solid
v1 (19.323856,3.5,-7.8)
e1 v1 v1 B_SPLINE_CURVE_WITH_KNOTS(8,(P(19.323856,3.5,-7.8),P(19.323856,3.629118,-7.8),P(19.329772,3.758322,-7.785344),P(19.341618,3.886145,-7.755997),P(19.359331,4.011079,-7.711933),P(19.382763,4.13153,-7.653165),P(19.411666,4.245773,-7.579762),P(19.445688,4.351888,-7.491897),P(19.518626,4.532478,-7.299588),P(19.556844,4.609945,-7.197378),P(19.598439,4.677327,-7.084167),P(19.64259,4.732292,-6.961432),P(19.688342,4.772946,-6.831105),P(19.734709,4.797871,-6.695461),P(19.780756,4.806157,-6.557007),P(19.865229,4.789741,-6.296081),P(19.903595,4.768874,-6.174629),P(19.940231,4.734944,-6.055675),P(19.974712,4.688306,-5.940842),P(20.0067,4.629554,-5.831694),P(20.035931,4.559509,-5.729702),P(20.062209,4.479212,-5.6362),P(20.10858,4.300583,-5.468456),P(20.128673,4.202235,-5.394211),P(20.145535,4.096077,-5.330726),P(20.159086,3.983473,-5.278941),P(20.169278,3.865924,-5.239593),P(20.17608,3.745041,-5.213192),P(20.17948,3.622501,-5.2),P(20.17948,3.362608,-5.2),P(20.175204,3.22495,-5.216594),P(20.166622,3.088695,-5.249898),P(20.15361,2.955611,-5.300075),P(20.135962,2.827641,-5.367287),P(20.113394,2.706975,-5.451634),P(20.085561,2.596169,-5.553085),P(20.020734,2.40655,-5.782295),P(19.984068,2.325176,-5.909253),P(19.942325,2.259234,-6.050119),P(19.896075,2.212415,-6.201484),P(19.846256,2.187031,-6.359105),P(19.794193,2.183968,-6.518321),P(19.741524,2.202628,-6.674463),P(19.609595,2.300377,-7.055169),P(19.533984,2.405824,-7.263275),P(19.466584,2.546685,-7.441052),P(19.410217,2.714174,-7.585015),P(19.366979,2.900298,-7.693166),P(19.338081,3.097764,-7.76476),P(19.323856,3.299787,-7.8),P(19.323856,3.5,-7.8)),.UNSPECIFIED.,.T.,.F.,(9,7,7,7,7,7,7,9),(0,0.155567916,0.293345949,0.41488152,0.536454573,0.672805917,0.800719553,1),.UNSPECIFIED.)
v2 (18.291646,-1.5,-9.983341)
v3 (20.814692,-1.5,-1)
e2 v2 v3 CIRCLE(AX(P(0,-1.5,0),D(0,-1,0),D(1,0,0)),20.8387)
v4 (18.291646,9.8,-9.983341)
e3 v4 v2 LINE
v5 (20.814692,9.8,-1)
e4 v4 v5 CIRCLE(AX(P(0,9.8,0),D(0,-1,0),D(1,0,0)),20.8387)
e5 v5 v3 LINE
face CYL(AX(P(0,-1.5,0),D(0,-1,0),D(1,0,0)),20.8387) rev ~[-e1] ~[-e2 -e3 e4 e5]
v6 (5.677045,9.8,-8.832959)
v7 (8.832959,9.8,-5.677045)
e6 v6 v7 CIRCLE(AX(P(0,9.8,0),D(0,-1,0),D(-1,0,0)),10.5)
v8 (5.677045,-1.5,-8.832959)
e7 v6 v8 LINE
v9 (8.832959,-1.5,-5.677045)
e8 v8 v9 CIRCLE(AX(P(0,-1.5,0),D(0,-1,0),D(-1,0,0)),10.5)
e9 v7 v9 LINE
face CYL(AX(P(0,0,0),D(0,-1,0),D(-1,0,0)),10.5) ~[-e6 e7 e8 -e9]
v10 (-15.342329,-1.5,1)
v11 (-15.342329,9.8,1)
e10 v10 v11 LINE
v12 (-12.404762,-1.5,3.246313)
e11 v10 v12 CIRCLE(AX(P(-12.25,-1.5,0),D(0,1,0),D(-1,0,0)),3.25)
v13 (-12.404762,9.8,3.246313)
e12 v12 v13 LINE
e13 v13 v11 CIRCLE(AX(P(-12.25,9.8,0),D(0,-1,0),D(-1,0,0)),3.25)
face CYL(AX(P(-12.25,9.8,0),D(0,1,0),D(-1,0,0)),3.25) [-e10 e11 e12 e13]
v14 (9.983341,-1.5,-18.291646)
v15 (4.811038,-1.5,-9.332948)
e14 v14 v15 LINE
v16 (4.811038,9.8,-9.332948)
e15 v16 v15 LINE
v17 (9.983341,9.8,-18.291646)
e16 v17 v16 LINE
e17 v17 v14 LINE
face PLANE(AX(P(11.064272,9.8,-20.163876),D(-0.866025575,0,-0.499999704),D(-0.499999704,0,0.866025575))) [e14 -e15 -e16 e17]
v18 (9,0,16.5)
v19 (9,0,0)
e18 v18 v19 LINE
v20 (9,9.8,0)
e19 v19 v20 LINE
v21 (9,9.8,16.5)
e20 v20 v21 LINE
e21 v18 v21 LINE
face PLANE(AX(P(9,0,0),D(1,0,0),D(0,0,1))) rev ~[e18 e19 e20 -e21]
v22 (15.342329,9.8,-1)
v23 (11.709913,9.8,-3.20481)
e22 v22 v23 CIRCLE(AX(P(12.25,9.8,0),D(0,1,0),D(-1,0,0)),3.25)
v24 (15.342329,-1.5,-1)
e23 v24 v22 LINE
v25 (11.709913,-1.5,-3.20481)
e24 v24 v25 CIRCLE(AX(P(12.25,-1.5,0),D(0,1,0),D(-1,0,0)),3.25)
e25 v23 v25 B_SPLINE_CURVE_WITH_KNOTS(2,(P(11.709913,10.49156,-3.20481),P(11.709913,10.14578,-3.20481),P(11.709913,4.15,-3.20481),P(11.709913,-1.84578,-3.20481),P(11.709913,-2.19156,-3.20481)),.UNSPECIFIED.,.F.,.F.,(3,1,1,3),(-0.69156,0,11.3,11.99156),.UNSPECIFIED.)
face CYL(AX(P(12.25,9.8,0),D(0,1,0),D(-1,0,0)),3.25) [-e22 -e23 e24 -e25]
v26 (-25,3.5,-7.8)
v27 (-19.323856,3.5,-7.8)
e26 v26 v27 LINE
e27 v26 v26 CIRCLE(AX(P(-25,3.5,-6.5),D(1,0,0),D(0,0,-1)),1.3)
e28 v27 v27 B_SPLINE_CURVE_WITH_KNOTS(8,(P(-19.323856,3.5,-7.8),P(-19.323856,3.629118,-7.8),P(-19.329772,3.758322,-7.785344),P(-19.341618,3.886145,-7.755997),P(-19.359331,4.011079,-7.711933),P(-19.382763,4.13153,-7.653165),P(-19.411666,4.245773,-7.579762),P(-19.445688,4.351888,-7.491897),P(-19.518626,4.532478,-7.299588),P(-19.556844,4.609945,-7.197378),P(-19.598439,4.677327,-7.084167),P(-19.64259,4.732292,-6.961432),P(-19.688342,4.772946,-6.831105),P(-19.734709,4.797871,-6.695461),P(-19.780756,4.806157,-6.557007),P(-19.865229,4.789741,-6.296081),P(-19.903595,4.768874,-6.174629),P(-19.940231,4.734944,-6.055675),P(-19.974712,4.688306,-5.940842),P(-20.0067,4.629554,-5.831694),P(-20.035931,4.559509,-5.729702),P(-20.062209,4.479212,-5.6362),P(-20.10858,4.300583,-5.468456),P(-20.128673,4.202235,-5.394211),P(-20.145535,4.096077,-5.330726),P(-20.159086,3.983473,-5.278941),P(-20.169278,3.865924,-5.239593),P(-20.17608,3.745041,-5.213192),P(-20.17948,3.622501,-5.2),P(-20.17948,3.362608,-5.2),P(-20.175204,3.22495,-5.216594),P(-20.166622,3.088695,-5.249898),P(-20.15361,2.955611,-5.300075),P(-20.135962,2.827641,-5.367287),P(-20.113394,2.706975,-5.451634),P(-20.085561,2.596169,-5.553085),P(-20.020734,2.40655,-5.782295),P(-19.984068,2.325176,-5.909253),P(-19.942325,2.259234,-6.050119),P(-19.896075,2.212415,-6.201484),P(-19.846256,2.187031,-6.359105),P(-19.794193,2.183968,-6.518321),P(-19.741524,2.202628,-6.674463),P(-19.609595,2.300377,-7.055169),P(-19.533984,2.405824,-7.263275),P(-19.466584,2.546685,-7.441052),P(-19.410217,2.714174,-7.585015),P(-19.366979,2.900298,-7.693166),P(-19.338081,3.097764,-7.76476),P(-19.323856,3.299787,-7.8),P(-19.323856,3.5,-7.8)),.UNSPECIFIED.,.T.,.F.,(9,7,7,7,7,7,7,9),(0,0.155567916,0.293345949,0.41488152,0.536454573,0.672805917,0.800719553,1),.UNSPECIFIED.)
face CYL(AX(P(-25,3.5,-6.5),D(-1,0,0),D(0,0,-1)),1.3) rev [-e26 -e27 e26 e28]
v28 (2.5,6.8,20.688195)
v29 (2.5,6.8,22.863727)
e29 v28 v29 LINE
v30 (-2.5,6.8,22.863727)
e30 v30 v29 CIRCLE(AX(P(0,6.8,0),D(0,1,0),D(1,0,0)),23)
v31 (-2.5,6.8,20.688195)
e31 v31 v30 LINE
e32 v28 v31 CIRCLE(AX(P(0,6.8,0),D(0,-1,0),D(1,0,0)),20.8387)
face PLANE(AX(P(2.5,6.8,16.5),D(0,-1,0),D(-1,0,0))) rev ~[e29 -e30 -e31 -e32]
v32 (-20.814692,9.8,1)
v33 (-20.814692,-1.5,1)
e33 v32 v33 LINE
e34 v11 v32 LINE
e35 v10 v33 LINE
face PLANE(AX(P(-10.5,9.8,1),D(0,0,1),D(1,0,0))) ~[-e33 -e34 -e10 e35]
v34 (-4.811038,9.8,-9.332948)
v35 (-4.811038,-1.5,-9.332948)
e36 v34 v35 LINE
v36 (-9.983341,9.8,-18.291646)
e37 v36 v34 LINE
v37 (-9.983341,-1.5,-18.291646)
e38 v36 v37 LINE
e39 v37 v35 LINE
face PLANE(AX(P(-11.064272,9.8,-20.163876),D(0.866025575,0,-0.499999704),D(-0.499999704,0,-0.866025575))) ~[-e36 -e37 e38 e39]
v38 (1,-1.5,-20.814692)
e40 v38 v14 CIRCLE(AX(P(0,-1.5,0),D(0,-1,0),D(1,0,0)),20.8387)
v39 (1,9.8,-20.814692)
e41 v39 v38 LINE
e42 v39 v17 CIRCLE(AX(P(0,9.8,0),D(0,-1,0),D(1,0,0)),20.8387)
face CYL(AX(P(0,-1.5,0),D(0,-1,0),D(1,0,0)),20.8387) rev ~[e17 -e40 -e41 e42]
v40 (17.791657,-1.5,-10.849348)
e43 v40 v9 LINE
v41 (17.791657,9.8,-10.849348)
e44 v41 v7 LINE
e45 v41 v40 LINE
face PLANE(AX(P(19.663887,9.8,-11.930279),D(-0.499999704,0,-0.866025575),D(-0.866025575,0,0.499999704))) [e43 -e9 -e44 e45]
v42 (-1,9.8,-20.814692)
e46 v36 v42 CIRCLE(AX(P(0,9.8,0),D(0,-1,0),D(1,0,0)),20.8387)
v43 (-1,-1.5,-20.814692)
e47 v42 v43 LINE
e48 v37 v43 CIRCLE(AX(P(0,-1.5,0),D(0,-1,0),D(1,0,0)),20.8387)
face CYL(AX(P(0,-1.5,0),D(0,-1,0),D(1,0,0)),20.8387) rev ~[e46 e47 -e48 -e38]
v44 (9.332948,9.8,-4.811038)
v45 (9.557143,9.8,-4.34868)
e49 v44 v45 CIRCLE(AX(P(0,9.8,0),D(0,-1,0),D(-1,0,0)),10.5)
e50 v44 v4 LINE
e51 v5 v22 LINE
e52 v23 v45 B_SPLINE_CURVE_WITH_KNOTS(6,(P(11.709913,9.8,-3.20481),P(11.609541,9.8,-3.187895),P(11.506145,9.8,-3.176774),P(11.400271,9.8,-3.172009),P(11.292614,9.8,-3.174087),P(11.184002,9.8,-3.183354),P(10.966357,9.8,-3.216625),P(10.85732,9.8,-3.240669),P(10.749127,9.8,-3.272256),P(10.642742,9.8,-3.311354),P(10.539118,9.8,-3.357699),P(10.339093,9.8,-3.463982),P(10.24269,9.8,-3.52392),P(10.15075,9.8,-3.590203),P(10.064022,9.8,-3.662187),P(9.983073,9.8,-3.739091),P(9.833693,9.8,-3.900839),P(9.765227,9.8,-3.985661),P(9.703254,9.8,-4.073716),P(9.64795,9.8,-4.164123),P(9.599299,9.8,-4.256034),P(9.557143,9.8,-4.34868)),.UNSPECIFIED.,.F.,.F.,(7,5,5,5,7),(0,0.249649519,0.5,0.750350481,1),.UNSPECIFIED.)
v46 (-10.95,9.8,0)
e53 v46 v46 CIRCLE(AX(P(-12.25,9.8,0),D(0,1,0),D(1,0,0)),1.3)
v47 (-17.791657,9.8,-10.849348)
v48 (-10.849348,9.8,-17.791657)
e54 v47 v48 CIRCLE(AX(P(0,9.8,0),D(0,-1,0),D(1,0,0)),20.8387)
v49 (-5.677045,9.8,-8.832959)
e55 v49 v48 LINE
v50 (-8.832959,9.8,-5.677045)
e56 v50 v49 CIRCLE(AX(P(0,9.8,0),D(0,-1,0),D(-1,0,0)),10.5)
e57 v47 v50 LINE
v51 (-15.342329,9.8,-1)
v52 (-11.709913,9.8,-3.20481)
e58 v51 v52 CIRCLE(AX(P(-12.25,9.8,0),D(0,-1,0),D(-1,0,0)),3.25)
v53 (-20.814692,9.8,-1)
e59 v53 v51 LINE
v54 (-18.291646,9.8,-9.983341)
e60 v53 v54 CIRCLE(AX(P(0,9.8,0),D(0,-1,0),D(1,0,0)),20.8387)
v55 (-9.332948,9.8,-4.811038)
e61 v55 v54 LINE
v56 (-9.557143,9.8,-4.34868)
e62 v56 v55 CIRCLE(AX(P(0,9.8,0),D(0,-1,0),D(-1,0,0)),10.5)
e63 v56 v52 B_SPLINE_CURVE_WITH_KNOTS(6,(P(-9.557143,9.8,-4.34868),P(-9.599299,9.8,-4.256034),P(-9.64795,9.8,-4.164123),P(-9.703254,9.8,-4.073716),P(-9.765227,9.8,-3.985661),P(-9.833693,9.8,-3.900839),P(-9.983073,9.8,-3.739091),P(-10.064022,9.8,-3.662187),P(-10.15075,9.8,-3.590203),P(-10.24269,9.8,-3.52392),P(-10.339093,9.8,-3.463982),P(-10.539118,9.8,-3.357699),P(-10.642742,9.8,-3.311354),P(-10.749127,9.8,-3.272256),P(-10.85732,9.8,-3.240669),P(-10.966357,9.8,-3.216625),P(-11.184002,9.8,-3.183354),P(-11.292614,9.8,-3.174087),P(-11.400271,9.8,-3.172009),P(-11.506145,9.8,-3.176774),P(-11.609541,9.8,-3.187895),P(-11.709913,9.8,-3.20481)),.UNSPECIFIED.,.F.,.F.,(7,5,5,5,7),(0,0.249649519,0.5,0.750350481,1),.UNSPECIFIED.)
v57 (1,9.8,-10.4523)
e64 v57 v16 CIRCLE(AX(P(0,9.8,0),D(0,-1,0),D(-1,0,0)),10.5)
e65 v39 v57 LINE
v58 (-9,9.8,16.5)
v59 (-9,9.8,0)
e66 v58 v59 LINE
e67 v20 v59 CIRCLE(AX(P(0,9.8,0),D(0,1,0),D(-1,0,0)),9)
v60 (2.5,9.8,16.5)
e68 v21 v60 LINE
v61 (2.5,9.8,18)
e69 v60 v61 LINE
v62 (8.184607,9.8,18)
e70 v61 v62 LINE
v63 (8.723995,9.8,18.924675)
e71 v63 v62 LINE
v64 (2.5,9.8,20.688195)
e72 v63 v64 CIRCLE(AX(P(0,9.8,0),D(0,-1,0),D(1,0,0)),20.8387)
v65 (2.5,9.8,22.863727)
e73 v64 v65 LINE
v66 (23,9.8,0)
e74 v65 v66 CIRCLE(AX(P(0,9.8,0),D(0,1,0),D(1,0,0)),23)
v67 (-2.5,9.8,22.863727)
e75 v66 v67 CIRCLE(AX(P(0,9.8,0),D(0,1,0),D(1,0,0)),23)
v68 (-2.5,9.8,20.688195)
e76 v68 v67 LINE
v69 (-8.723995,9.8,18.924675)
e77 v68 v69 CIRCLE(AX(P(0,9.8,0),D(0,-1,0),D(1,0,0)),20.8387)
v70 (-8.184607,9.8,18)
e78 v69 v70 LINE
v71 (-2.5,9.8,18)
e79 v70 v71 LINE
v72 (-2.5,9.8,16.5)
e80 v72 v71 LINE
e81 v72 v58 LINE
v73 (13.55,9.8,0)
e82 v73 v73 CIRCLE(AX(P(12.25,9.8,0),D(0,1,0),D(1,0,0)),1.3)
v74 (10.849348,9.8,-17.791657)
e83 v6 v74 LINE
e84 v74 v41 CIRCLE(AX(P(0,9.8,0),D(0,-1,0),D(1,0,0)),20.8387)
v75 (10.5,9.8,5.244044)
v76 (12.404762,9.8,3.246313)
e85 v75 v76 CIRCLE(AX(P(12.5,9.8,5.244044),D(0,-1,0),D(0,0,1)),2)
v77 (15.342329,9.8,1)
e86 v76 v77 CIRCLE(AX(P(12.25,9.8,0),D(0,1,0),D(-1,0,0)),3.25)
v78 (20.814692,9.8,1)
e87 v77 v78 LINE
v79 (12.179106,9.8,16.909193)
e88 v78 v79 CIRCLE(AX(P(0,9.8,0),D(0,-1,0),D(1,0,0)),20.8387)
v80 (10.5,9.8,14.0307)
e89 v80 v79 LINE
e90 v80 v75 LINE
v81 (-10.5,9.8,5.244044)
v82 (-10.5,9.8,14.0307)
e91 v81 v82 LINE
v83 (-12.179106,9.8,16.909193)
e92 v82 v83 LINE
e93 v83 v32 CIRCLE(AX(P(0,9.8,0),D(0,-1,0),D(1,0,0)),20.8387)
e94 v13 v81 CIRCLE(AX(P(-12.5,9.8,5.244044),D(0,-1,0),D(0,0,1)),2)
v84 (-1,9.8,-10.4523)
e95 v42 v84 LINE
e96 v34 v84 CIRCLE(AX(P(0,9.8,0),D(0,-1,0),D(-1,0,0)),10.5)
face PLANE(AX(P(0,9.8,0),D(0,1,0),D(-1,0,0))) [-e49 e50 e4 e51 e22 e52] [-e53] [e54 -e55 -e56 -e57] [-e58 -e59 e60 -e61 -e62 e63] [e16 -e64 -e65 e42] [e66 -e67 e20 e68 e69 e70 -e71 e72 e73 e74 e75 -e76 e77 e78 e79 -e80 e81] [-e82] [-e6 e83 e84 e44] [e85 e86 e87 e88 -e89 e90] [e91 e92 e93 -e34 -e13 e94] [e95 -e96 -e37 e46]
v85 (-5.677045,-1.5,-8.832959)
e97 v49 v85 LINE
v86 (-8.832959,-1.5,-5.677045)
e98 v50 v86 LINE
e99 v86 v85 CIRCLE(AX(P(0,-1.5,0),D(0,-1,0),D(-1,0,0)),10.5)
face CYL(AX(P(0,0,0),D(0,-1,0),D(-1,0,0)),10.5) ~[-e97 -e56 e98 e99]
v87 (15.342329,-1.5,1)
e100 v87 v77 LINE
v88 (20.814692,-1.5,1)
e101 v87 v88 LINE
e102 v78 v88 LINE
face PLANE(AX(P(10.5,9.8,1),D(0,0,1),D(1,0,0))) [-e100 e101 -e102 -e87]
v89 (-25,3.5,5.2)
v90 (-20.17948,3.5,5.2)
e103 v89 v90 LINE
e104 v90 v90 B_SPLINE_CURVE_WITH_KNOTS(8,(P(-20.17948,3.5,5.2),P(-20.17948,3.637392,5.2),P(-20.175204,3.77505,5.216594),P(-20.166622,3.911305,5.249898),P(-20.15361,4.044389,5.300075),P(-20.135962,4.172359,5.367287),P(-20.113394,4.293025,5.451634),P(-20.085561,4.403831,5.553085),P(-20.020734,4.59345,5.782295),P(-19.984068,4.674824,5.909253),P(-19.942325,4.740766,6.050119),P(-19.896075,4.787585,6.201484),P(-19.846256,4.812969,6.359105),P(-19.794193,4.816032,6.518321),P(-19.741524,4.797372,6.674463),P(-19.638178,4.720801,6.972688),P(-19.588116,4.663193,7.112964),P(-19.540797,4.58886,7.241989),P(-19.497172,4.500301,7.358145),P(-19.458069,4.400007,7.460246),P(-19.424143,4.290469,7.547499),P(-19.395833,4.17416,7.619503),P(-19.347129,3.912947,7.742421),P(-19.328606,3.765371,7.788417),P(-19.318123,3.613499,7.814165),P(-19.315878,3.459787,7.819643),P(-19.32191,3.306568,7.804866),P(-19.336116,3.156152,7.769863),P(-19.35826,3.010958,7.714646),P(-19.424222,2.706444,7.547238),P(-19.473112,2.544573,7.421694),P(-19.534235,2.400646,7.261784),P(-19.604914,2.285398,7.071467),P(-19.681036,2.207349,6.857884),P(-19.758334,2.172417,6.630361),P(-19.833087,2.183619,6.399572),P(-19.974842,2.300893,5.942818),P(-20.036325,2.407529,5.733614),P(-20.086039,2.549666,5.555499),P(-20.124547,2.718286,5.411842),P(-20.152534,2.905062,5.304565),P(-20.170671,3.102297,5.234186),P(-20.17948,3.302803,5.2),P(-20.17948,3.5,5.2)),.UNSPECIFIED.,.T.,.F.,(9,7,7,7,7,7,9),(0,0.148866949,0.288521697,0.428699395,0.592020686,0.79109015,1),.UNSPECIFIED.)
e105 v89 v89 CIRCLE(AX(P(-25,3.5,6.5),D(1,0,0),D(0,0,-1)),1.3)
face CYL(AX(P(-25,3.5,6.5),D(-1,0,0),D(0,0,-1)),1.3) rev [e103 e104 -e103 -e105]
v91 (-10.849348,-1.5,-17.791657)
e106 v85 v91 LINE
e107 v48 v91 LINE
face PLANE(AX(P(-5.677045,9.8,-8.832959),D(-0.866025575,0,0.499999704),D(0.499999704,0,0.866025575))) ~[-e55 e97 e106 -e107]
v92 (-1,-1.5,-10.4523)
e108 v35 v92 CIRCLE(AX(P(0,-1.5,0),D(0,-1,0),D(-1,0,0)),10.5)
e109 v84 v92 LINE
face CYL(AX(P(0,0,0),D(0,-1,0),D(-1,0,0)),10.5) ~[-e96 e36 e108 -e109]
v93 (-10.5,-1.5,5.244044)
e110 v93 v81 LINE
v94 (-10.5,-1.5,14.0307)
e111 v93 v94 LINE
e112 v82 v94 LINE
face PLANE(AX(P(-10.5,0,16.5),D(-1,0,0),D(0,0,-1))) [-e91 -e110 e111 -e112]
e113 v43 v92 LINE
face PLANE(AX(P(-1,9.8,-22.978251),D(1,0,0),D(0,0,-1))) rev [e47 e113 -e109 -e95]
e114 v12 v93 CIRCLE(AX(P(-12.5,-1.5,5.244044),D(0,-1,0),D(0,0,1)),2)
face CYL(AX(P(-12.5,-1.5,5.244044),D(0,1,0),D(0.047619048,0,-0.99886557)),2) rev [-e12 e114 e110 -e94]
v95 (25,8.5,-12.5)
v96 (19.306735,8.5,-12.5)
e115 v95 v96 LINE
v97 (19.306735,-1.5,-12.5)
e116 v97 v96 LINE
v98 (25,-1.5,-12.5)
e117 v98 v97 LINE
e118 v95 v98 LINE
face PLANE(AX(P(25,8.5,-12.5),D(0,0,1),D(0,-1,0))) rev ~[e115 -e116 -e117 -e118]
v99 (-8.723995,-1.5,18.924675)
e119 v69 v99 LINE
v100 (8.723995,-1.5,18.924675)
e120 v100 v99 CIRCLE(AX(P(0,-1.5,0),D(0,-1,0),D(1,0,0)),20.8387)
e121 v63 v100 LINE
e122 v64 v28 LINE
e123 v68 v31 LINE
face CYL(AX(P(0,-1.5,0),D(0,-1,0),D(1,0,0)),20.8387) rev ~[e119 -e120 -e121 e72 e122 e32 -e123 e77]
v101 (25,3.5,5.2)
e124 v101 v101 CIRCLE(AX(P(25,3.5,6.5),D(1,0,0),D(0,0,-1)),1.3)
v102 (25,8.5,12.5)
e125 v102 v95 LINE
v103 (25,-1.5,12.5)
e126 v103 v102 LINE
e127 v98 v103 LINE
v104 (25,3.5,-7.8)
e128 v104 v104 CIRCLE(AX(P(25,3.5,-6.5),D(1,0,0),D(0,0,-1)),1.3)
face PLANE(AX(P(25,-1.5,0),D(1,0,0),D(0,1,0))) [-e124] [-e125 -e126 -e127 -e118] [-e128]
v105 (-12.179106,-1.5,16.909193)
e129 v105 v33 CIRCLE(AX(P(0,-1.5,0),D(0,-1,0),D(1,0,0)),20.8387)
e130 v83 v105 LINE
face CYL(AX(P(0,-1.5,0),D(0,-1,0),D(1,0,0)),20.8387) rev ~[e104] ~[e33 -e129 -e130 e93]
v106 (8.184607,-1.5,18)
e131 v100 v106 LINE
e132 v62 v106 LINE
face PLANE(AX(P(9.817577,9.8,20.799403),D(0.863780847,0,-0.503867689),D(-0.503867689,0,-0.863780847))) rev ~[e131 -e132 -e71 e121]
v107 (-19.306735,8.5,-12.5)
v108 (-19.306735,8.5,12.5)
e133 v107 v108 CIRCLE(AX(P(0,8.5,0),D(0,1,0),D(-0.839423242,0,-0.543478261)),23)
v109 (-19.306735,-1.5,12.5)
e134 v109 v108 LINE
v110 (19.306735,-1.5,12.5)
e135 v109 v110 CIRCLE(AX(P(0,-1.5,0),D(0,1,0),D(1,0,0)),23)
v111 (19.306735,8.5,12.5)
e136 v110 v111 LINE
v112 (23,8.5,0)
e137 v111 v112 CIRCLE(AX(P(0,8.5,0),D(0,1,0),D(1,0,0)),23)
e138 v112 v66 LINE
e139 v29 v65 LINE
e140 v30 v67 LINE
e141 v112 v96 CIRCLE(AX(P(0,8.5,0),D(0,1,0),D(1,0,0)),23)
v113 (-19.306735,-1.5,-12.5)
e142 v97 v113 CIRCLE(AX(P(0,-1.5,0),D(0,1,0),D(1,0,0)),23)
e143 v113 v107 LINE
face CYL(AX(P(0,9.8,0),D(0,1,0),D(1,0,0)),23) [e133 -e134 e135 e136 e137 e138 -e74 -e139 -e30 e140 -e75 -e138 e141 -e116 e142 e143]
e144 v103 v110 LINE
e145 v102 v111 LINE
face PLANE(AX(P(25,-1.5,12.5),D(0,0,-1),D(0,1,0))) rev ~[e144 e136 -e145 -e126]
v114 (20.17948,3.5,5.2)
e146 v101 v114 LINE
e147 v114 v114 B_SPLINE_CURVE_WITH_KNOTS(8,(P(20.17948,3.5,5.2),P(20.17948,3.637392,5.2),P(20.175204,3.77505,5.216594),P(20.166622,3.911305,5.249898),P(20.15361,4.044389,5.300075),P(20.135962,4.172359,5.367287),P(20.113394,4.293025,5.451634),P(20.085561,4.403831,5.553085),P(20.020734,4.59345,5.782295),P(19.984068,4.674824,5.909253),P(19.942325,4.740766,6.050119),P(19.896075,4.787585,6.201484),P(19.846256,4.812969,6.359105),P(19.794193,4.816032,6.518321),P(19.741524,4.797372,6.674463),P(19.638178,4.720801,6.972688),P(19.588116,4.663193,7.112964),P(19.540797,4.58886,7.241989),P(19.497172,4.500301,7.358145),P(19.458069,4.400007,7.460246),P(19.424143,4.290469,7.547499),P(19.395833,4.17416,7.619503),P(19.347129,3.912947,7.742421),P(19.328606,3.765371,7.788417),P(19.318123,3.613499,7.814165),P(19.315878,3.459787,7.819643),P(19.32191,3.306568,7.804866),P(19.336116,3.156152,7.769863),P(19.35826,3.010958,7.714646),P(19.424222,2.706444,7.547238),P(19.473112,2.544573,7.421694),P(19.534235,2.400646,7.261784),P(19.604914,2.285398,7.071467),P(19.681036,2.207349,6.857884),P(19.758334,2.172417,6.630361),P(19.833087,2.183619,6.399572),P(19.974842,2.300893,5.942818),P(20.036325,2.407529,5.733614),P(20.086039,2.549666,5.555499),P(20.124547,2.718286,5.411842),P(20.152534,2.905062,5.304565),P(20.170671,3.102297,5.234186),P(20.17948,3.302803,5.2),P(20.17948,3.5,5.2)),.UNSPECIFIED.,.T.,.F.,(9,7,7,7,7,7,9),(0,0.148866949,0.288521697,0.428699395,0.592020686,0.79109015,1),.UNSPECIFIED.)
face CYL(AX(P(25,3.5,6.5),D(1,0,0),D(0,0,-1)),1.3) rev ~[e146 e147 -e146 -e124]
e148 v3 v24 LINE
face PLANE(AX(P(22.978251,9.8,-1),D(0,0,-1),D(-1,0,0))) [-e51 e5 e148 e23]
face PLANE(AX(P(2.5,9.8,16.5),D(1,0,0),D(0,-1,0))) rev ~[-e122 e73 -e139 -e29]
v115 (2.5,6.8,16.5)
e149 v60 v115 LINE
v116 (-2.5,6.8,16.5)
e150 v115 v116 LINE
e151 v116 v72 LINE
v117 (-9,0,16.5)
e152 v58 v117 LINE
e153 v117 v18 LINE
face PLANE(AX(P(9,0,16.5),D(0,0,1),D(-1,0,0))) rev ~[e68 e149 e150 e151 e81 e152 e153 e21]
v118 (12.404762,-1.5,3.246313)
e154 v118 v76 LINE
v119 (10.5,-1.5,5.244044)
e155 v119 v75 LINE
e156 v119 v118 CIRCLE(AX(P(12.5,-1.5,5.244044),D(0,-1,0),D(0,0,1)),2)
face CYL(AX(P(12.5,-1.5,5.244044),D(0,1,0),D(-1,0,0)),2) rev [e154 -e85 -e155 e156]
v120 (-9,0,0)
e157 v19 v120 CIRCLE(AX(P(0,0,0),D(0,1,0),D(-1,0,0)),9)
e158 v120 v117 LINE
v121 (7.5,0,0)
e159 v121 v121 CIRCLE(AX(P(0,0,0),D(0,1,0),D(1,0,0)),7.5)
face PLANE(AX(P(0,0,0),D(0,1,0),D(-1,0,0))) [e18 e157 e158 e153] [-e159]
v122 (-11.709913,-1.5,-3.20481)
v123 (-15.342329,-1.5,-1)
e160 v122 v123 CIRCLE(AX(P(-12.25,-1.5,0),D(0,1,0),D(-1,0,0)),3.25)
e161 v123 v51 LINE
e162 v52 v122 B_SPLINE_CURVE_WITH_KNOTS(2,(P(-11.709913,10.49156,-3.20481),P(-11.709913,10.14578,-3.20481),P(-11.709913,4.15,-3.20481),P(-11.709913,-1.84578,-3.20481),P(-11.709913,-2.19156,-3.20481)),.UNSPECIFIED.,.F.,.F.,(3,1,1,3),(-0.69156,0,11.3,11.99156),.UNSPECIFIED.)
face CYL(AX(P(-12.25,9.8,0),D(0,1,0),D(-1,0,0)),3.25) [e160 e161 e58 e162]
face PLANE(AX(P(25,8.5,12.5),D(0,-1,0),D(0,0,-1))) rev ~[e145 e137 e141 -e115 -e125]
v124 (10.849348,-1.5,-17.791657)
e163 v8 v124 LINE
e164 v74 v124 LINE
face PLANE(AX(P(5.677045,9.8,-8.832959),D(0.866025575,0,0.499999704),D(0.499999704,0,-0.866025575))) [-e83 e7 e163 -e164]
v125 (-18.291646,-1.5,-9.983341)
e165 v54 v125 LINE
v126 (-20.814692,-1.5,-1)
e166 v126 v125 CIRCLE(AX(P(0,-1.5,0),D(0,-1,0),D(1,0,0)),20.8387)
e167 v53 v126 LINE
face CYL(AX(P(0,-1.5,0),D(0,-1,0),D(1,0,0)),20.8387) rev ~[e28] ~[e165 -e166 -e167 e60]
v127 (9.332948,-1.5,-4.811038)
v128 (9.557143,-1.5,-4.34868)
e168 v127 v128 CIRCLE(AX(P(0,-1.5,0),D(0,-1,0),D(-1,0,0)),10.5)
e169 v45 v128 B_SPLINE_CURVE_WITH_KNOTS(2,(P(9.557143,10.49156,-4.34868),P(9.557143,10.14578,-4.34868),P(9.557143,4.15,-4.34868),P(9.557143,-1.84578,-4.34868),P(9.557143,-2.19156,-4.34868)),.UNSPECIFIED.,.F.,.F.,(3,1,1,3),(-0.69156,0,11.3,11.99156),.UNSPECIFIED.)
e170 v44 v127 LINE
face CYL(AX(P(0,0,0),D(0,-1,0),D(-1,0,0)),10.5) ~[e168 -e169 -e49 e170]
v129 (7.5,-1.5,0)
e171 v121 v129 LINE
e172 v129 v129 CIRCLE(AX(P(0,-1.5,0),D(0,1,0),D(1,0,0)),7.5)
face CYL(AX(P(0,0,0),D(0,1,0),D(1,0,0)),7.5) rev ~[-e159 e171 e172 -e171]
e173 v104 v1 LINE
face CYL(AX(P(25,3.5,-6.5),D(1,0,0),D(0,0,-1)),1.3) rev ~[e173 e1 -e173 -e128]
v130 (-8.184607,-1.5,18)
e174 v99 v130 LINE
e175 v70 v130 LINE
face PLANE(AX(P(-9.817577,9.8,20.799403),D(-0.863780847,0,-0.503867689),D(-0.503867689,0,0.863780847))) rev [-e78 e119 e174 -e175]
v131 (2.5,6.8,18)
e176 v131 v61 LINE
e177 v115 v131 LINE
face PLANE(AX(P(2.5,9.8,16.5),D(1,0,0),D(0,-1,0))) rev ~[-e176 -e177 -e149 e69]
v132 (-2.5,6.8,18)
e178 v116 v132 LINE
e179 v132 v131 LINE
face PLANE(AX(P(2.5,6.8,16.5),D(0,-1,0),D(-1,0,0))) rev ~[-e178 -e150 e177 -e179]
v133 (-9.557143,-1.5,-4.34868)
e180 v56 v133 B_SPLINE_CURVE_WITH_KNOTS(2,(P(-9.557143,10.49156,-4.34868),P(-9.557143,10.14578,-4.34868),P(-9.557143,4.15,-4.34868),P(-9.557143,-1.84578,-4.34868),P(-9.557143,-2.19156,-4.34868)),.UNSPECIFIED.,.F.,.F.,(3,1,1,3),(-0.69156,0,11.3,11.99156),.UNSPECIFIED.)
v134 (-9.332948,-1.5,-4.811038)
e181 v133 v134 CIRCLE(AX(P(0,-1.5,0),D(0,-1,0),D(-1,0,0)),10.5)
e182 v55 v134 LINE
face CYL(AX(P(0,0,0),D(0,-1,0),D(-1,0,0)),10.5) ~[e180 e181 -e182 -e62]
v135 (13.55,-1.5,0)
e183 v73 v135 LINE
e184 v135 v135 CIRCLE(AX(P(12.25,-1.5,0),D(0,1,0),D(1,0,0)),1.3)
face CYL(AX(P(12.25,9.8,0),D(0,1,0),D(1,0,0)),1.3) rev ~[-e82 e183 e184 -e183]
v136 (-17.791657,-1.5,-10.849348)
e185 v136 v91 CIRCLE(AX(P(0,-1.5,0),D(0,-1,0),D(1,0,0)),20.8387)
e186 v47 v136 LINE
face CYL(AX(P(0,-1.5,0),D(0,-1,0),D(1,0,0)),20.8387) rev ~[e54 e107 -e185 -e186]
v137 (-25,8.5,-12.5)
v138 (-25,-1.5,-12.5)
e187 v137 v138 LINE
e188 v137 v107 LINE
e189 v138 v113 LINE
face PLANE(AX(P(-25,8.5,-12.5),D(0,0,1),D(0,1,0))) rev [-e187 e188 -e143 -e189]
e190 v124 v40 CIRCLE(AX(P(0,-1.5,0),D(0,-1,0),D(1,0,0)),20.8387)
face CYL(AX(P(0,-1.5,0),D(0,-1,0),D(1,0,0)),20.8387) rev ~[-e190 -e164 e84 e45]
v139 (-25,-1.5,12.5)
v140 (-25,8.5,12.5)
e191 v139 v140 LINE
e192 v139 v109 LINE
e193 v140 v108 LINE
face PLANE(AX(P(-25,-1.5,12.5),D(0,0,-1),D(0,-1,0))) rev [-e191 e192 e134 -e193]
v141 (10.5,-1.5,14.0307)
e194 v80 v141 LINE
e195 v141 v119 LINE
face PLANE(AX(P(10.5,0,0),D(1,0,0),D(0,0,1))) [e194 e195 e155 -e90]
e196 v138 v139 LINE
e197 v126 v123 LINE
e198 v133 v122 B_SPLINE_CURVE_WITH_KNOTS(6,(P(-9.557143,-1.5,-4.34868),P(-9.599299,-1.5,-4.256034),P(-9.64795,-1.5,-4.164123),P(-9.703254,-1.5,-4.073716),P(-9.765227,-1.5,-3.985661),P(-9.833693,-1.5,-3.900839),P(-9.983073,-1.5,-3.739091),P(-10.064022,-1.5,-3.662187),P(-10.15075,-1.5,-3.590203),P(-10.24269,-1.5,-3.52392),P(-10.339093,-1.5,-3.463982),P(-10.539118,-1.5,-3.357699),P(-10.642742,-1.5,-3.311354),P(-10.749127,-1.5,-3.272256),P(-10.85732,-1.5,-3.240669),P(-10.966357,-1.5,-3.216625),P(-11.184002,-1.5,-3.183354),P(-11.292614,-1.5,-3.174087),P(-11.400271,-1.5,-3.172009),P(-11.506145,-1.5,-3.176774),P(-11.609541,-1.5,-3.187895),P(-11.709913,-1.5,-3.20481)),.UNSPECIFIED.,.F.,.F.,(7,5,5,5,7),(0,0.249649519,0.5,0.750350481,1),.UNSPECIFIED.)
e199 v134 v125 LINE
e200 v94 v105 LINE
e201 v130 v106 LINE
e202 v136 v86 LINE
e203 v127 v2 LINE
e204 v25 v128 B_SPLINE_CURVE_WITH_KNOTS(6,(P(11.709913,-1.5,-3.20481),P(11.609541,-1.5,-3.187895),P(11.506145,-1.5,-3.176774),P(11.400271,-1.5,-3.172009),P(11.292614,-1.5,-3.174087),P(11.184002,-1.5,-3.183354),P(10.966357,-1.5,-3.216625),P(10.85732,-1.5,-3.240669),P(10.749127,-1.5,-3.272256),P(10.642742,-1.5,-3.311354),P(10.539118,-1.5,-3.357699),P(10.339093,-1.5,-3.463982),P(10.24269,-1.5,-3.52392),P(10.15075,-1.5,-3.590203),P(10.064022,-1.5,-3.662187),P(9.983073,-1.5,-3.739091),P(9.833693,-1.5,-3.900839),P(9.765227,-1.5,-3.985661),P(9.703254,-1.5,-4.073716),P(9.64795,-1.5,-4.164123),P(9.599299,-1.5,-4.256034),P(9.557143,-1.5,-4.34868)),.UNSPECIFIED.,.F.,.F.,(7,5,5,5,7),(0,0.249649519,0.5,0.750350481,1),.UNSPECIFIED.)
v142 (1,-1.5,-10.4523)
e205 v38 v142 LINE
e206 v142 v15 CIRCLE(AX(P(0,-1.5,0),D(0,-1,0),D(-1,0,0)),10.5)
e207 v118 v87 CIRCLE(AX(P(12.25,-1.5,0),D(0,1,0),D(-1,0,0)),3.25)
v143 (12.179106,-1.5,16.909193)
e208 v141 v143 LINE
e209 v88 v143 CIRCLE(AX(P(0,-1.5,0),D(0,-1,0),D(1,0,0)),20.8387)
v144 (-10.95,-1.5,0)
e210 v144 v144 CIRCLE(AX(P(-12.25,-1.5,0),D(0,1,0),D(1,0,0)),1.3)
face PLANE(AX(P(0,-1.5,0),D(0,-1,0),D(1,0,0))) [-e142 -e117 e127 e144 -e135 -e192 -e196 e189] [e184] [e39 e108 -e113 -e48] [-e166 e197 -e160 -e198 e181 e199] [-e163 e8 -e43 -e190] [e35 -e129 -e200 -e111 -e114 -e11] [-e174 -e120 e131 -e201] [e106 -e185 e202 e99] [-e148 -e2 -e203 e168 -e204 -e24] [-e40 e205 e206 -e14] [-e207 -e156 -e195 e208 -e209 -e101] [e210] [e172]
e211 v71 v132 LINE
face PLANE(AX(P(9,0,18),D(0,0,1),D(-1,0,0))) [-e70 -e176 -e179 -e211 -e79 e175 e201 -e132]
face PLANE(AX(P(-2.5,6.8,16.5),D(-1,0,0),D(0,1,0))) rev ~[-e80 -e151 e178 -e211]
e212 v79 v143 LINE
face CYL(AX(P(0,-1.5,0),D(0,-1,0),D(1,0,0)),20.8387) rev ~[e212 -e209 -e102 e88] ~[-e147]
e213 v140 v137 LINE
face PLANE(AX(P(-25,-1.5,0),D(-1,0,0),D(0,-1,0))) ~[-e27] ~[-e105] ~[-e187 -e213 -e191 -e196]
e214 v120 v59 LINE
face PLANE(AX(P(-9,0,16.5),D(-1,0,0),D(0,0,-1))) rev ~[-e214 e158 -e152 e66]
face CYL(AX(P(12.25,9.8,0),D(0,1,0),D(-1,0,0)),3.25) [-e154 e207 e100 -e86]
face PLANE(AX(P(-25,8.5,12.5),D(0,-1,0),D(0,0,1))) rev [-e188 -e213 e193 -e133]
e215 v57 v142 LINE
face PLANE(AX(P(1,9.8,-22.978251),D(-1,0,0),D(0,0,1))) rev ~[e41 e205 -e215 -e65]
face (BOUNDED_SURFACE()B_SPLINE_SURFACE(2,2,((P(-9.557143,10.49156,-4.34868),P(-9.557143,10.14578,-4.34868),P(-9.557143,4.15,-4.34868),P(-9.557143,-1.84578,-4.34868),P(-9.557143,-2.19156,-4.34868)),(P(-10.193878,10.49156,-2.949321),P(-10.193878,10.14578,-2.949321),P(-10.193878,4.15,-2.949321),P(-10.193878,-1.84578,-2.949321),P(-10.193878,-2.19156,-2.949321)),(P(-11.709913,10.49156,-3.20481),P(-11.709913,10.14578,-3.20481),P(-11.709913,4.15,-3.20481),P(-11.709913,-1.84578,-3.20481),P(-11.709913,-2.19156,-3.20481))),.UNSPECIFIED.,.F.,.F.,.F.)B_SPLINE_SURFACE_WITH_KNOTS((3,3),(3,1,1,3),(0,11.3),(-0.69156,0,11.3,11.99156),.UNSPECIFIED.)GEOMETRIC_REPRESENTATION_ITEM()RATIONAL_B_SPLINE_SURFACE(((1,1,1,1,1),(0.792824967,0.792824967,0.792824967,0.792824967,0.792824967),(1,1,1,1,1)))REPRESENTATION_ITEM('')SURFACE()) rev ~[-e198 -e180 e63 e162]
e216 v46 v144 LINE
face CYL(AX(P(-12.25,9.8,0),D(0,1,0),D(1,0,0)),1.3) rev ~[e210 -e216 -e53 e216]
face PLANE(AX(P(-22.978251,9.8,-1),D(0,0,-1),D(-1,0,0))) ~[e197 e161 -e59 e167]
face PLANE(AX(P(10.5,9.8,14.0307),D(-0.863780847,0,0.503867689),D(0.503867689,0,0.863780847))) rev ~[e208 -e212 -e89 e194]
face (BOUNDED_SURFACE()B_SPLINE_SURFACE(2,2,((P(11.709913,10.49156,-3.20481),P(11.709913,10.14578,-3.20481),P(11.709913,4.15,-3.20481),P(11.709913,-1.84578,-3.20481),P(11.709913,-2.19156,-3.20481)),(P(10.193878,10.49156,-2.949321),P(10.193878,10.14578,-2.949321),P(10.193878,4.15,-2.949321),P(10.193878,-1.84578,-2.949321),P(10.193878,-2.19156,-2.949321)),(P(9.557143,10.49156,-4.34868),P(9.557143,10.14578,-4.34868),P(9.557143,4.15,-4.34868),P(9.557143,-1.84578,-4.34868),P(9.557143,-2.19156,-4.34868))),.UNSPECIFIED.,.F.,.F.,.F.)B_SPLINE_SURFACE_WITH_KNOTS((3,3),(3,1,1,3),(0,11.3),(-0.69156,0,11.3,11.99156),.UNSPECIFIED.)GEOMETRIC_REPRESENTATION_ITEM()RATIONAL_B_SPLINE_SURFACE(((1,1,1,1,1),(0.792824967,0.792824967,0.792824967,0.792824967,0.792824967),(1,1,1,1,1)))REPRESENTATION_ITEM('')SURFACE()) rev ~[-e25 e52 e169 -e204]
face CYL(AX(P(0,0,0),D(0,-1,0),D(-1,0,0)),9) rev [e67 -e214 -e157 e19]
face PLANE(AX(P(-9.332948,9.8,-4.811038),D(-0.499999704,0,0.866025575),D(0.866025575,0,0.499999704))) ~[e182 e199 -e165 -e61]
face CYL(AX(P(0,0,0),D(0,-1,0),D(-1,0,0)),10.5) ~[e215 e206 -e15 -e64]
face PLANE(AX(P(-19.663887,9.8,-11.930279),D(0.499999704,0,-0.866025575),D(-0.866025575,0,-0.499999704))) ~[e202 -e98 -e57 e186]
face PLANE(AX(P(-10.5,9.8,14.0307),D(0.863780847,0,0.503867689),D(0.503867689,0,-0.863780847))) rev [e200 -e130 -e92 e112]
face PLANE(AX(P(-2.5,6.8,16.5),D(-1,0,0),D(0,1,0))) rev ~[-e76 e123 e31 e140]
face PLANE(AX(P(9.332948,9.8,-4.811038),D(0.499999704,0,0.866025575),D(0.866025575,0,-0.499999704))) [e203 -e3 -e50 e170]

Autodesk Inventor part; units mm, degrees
ref_plane "XZ Plane" through (0, 0, 0) normal (0, 1, 0) x (-1, 0, 0)
ref_plane "XY Plane" through (0, 0, 0) normal (0, 0, 1) x (1, 0, 0)
sketch "スケッチ1" plane through (0, 0, 0) normal (0, 1, 0) x (-1, 0, 0)
  circle A0 centre (0, 0) radius 9
  line L0 (9, 0) -> (-9, 0)
  line L1 (-9, 0) -> (-9, 16.5)
  line L2 (-9, 16.5) -> (9, 16.5)
  line L3 (9, 16.5) -> (9, 0)
  dimension "d0" = 18
  dimension "d1" = 16.5
extrude "押し出し1" add sketch "スケッチ1" along normal blind 9.8
shell "シェル1" thickness 1.5 outward yes removed faces 1 at (-3, 9.8, 5.5)
sketch "スケッチ2" plane through (0, -1.5, 0) normal (0, -1, 0) x (1, 0, 0)
  circle A0 centre (0, 0) radius 20.8387
  circle A1 centre (0, 0) radius 23
  point P0 (10.5, 18)
  dimension "d29" = 46
extrude "押し出し2" add sketch "スケッチ2" against normal up to surface (11.3 mm away)
sketch "スケッチ3" plane through (0, 9.8, 0) normal (0, 1, 0) x (1, 0, 0)
  line L0 (13.3166, -18.8592) -> (9.8615, -20.8747)
  line L1 (9.8615, -20.8747) -> (7.0449, -16.0462)
  line L2 (7.0449, -16.0462) -> (10.5, -14.0307)
  line L3 (10.5, -14.0307) -> (13.3166, -18.8592)
  line L4 (10.5, -18) -> (10.5, 0) projected
  line L5 (-10.5, -18) -> (10.5, -18) projected
  circle A0 centre (0, 0) radius 23 projected
  line L6 (8.7724, -15.0385) -> (11.589, -19.8669)
  circle A1 centre (0, 0) radius 23 projected
  line L7 (0, 23) -> (1, 23)
  line L8 (1, 23) -> (1, 10.4523)
  line L9 (1, 10.4523) -> (0, 10.4523)
  line L10 (0, 10.4523) -> (0, 23)
  arc A2 (10.5, 0) -> (-10.5, 0) centre (0, 0) ccw projected
  line L11 (9, -16.5) -> (9, 0) projected
  line L12 (9, -1) -> (23, -1)
  line L13 (23, -1) -> (23, 1)
  line L14 (23, 1) -> (9, 1)
  line L15 (9, 1) -> (9, -1)
  line L16 (-0.25, 0.433) -> (0.25, -0.433)
  line L17 (0.25, -0.433) -> (20.1686, 11.067)
  line L18 (20.1686, 11.067) -> (19.6686, 11.933)
  line L19 (19.6686, 11.933) -> (-0.25, 0.433)
  line L20 (-0.433, 0.25) -> (0.433, -0.25)
  line L21 (0.433, -0.25) -> (11.933, 19.6686)
  line L22 (11.933, 19.6686) -> (11.067, 20.1686)
  line L23 (11.067, 20.1686) -> (-0.433, 0.25)
  point P0 (0, 10.5)
  point P1 (1, 22.9783)
  point P2 (11.0643, 20.1639)
  point P3 (4.811, 9.333)
  point P4 (5.6771, 8.833)
  point P5 (11.9303, 19.6639)
  point P6 (19.6639, 11.9303)
  point P7 (8.833, 5.6771)
  point P8 (9.333, 4.811)
  point P9 (20.1639, 11.0643)
  point P10 (22.9783, 1)
  point P11 (10.4523, 1)
  point P12 (10.5, -1)
  point P13 (22.9783, -1)
  point P14 (13.2727, -18.7839)
  point P15 (8.1846, -18)
  point P16 (9.8176, -20.7994)
  dimension "d8" = 4
  dimension "d9" = 1
  dimension "d10" = 2
  dimension "d11" = 30
  dimension "d12" = 60
extrude "押し出し3" add sketch "スケッチ3" against normal up to surface (11.3 mm away) contours L6 L4 L3 A0 | A0 L1 L5 L6 | L12 L4 A2 L14 A0 | A0 L8 A2 L10 | A0 L21 A2 L23 | L17 A2 L19 A0
mirror "ミラー1" about plane through (0, 9.8, -10.5) normal (-1, 0, 0) of "押し出し3"
sketch "スケッチ5" plane through (0, 0, 0) normal (0, 1, 0) x (1, 0, 0)
  line L0 (-9, -16.5) -> (9, -16.5) projected
  line L1 (-9, -10.5) -> (9, -10.5)
  line L2 (9, -10.5) -> (9, -16.5)
  line L3 (9, -16.5) -> (-9, -16.5)
  line L4 (-9, -16.5) -> (-9, -10.5)
  line L5 (-9, -16.5) -> (-9, 0) projected
  point P0 (0, 0)
  point P1 (0, 0)
  point P2 (9, 0)
  dimension "d17" = 21
extrude "押し出し4" cut sketch "スケッチ5" against normal through all
sketch "スケッチ6" plane through (0, 0, 0) normal (0, 1, 0) x (1, 0, 0)
  circle A0 centre (0, 0) radius 7.5
  dimension "d18" = 15
extrude "押し出し5" cut sketch "スケッチ6" against normal through all
sketch "スケッチ7" plane through (0, 9.8, 0) normal (0, 1, 0) x (-1, 0, 0)
  circle A0 centre (12.25, 0) radius 3.25
  circle A1 centre (-12.25, 0) radius 3.25
  line L0 (9, 16.5) -> (9, 0) projected
  line L1 (-9, 0) -> (-9, 16.5) projected
  point P0 (0, 0)
  dimension "d21" = 6.5
extrude "押し出し6" add sketch "スケッチ7" against normal up to surface (11.3 mm away)
sketch "スケッチ8" plane through (0, 9.8, 0) normal (0, 1, 0) x (1, 0, 0)
  arc A0 (-10.1939, 2.5169) -> (-15.3423, 1) centre (-12.25, 0) ccw projected
  arc A1 (15.3423, 1) -> (10.1939, 2.5169) centre (12.25, 0) ccw projected
  circle A2 centre (-12.25, 0) radius 1.3
  circle A3 centre (12.25, 0) radius 1.3
  point P0 (0, 0)
  dimension "d24" = 2.6
  dimension "d25" = 2.6
extrude "押し出し7" cut sketch "スケッチ8" against normal through all
fillet "フィレット1" radius 2 4 edges at (10.1939, 4.15, -2.5169) (10.5, 4.15, 2.7386) (-10.1939, 4.15, -2.5169) (-10.5, 4.15, 2.7386)
sketch "スケッチ11" plane through (9, 9.8, 16.5) normal (0, 0, -1) x (-1, 0, 0)
  line L0 (11.5, 0) -> (6.5, 0)
  line L1 (6.5, 0) -> (6.5, -3)
  line L2 (6.5, -3) -> (11.5, -3)
  line L3 (11.5, -3) -> (11.5, 0)
  line L4 (0, 0) -> (18, 0) projected
  point P0 (9, -9.8)
  point P1 (9, 0)
  dimension "d40" = 5
  dimension "d41" = 3
extrude "押し出し9" cut sketch "スケッチ11" against normal through all
sketch "スケッチ12" plane through (0, -1.5, 0) normal (0, -1, 0) x (1, 0, 0)
  line L0 (-9, 10.5) -> (-9, 16.5) projected
  line L1 (-9, 16.5) -> (9, 16.5) projected
  line L2 (9, 10.5) -> (-9, 10.5) projected
  line L3 (9, 16.5) -> (9, 10.5) projected
  point P0 (0, 0)
extrude "押し出し10" add sketch "スケッチ12" against normal up to surface (1.5 mm away)
ref_plane "作業平面3" through (25, -1.5, 0) normal (1, 0, 0) x (0, 1, 0)
ref_plane "作業平面2" through (23, -1.5, 0) normal (1, 0, 0) x (0, 1, 0)
sketch "スケッチ13" plane through (25, -1.5, 0) normal (1, 0, 0) x (0, 1, 0)
  line L0 (0, 12.5) -> (10, 12.5)
  line L1 (10, 12.5) -> (10, -12.5)
  line L2 (10, -12.5) -> (0, -12.5)
  line L3 (0, -12.5) -> (0, 12.5)
  line L4 (0, 23) -> (0, -23) projected
  point P0 (1.5, 0)
  point P1 (0, 0)
  dimension "d47" = 25
  dimension "d48" = 10
extrude "押し出し11" add sketch "スケッチ13" against normal up to surface
sketch "スケッチ14" plane through (25, -1.5, 0) normal (1, 0, 0) x (0, 0, -1)
  circle A0 centre (-6.5, 5) radius 1.3
  circle A1 centre (6.5, 5) radius 1.3
  line L0 (-12.5, 0) -> (12.5, 0) construction
  line L1 (0, 0) -> (0, 10) construction
  line L2 (12.5, 10) -> (-12.5, 10) construction
  line L3 (12.5, 0) -> (12.5, 10) projected
  point P0 (0, 1.5)
  point P1 (0, 5)
  dimension "d52" = 2.6
  dimension "d53" = 6
extrude "押し出し12" cut sketch "スケッチ14" against normal up to surface
mirror "ミラー2" about plane through (0, 0, 0) normal (1, 0, 0) of "押し出し11", "押し出し12"
properties part number "volume_case_under"
